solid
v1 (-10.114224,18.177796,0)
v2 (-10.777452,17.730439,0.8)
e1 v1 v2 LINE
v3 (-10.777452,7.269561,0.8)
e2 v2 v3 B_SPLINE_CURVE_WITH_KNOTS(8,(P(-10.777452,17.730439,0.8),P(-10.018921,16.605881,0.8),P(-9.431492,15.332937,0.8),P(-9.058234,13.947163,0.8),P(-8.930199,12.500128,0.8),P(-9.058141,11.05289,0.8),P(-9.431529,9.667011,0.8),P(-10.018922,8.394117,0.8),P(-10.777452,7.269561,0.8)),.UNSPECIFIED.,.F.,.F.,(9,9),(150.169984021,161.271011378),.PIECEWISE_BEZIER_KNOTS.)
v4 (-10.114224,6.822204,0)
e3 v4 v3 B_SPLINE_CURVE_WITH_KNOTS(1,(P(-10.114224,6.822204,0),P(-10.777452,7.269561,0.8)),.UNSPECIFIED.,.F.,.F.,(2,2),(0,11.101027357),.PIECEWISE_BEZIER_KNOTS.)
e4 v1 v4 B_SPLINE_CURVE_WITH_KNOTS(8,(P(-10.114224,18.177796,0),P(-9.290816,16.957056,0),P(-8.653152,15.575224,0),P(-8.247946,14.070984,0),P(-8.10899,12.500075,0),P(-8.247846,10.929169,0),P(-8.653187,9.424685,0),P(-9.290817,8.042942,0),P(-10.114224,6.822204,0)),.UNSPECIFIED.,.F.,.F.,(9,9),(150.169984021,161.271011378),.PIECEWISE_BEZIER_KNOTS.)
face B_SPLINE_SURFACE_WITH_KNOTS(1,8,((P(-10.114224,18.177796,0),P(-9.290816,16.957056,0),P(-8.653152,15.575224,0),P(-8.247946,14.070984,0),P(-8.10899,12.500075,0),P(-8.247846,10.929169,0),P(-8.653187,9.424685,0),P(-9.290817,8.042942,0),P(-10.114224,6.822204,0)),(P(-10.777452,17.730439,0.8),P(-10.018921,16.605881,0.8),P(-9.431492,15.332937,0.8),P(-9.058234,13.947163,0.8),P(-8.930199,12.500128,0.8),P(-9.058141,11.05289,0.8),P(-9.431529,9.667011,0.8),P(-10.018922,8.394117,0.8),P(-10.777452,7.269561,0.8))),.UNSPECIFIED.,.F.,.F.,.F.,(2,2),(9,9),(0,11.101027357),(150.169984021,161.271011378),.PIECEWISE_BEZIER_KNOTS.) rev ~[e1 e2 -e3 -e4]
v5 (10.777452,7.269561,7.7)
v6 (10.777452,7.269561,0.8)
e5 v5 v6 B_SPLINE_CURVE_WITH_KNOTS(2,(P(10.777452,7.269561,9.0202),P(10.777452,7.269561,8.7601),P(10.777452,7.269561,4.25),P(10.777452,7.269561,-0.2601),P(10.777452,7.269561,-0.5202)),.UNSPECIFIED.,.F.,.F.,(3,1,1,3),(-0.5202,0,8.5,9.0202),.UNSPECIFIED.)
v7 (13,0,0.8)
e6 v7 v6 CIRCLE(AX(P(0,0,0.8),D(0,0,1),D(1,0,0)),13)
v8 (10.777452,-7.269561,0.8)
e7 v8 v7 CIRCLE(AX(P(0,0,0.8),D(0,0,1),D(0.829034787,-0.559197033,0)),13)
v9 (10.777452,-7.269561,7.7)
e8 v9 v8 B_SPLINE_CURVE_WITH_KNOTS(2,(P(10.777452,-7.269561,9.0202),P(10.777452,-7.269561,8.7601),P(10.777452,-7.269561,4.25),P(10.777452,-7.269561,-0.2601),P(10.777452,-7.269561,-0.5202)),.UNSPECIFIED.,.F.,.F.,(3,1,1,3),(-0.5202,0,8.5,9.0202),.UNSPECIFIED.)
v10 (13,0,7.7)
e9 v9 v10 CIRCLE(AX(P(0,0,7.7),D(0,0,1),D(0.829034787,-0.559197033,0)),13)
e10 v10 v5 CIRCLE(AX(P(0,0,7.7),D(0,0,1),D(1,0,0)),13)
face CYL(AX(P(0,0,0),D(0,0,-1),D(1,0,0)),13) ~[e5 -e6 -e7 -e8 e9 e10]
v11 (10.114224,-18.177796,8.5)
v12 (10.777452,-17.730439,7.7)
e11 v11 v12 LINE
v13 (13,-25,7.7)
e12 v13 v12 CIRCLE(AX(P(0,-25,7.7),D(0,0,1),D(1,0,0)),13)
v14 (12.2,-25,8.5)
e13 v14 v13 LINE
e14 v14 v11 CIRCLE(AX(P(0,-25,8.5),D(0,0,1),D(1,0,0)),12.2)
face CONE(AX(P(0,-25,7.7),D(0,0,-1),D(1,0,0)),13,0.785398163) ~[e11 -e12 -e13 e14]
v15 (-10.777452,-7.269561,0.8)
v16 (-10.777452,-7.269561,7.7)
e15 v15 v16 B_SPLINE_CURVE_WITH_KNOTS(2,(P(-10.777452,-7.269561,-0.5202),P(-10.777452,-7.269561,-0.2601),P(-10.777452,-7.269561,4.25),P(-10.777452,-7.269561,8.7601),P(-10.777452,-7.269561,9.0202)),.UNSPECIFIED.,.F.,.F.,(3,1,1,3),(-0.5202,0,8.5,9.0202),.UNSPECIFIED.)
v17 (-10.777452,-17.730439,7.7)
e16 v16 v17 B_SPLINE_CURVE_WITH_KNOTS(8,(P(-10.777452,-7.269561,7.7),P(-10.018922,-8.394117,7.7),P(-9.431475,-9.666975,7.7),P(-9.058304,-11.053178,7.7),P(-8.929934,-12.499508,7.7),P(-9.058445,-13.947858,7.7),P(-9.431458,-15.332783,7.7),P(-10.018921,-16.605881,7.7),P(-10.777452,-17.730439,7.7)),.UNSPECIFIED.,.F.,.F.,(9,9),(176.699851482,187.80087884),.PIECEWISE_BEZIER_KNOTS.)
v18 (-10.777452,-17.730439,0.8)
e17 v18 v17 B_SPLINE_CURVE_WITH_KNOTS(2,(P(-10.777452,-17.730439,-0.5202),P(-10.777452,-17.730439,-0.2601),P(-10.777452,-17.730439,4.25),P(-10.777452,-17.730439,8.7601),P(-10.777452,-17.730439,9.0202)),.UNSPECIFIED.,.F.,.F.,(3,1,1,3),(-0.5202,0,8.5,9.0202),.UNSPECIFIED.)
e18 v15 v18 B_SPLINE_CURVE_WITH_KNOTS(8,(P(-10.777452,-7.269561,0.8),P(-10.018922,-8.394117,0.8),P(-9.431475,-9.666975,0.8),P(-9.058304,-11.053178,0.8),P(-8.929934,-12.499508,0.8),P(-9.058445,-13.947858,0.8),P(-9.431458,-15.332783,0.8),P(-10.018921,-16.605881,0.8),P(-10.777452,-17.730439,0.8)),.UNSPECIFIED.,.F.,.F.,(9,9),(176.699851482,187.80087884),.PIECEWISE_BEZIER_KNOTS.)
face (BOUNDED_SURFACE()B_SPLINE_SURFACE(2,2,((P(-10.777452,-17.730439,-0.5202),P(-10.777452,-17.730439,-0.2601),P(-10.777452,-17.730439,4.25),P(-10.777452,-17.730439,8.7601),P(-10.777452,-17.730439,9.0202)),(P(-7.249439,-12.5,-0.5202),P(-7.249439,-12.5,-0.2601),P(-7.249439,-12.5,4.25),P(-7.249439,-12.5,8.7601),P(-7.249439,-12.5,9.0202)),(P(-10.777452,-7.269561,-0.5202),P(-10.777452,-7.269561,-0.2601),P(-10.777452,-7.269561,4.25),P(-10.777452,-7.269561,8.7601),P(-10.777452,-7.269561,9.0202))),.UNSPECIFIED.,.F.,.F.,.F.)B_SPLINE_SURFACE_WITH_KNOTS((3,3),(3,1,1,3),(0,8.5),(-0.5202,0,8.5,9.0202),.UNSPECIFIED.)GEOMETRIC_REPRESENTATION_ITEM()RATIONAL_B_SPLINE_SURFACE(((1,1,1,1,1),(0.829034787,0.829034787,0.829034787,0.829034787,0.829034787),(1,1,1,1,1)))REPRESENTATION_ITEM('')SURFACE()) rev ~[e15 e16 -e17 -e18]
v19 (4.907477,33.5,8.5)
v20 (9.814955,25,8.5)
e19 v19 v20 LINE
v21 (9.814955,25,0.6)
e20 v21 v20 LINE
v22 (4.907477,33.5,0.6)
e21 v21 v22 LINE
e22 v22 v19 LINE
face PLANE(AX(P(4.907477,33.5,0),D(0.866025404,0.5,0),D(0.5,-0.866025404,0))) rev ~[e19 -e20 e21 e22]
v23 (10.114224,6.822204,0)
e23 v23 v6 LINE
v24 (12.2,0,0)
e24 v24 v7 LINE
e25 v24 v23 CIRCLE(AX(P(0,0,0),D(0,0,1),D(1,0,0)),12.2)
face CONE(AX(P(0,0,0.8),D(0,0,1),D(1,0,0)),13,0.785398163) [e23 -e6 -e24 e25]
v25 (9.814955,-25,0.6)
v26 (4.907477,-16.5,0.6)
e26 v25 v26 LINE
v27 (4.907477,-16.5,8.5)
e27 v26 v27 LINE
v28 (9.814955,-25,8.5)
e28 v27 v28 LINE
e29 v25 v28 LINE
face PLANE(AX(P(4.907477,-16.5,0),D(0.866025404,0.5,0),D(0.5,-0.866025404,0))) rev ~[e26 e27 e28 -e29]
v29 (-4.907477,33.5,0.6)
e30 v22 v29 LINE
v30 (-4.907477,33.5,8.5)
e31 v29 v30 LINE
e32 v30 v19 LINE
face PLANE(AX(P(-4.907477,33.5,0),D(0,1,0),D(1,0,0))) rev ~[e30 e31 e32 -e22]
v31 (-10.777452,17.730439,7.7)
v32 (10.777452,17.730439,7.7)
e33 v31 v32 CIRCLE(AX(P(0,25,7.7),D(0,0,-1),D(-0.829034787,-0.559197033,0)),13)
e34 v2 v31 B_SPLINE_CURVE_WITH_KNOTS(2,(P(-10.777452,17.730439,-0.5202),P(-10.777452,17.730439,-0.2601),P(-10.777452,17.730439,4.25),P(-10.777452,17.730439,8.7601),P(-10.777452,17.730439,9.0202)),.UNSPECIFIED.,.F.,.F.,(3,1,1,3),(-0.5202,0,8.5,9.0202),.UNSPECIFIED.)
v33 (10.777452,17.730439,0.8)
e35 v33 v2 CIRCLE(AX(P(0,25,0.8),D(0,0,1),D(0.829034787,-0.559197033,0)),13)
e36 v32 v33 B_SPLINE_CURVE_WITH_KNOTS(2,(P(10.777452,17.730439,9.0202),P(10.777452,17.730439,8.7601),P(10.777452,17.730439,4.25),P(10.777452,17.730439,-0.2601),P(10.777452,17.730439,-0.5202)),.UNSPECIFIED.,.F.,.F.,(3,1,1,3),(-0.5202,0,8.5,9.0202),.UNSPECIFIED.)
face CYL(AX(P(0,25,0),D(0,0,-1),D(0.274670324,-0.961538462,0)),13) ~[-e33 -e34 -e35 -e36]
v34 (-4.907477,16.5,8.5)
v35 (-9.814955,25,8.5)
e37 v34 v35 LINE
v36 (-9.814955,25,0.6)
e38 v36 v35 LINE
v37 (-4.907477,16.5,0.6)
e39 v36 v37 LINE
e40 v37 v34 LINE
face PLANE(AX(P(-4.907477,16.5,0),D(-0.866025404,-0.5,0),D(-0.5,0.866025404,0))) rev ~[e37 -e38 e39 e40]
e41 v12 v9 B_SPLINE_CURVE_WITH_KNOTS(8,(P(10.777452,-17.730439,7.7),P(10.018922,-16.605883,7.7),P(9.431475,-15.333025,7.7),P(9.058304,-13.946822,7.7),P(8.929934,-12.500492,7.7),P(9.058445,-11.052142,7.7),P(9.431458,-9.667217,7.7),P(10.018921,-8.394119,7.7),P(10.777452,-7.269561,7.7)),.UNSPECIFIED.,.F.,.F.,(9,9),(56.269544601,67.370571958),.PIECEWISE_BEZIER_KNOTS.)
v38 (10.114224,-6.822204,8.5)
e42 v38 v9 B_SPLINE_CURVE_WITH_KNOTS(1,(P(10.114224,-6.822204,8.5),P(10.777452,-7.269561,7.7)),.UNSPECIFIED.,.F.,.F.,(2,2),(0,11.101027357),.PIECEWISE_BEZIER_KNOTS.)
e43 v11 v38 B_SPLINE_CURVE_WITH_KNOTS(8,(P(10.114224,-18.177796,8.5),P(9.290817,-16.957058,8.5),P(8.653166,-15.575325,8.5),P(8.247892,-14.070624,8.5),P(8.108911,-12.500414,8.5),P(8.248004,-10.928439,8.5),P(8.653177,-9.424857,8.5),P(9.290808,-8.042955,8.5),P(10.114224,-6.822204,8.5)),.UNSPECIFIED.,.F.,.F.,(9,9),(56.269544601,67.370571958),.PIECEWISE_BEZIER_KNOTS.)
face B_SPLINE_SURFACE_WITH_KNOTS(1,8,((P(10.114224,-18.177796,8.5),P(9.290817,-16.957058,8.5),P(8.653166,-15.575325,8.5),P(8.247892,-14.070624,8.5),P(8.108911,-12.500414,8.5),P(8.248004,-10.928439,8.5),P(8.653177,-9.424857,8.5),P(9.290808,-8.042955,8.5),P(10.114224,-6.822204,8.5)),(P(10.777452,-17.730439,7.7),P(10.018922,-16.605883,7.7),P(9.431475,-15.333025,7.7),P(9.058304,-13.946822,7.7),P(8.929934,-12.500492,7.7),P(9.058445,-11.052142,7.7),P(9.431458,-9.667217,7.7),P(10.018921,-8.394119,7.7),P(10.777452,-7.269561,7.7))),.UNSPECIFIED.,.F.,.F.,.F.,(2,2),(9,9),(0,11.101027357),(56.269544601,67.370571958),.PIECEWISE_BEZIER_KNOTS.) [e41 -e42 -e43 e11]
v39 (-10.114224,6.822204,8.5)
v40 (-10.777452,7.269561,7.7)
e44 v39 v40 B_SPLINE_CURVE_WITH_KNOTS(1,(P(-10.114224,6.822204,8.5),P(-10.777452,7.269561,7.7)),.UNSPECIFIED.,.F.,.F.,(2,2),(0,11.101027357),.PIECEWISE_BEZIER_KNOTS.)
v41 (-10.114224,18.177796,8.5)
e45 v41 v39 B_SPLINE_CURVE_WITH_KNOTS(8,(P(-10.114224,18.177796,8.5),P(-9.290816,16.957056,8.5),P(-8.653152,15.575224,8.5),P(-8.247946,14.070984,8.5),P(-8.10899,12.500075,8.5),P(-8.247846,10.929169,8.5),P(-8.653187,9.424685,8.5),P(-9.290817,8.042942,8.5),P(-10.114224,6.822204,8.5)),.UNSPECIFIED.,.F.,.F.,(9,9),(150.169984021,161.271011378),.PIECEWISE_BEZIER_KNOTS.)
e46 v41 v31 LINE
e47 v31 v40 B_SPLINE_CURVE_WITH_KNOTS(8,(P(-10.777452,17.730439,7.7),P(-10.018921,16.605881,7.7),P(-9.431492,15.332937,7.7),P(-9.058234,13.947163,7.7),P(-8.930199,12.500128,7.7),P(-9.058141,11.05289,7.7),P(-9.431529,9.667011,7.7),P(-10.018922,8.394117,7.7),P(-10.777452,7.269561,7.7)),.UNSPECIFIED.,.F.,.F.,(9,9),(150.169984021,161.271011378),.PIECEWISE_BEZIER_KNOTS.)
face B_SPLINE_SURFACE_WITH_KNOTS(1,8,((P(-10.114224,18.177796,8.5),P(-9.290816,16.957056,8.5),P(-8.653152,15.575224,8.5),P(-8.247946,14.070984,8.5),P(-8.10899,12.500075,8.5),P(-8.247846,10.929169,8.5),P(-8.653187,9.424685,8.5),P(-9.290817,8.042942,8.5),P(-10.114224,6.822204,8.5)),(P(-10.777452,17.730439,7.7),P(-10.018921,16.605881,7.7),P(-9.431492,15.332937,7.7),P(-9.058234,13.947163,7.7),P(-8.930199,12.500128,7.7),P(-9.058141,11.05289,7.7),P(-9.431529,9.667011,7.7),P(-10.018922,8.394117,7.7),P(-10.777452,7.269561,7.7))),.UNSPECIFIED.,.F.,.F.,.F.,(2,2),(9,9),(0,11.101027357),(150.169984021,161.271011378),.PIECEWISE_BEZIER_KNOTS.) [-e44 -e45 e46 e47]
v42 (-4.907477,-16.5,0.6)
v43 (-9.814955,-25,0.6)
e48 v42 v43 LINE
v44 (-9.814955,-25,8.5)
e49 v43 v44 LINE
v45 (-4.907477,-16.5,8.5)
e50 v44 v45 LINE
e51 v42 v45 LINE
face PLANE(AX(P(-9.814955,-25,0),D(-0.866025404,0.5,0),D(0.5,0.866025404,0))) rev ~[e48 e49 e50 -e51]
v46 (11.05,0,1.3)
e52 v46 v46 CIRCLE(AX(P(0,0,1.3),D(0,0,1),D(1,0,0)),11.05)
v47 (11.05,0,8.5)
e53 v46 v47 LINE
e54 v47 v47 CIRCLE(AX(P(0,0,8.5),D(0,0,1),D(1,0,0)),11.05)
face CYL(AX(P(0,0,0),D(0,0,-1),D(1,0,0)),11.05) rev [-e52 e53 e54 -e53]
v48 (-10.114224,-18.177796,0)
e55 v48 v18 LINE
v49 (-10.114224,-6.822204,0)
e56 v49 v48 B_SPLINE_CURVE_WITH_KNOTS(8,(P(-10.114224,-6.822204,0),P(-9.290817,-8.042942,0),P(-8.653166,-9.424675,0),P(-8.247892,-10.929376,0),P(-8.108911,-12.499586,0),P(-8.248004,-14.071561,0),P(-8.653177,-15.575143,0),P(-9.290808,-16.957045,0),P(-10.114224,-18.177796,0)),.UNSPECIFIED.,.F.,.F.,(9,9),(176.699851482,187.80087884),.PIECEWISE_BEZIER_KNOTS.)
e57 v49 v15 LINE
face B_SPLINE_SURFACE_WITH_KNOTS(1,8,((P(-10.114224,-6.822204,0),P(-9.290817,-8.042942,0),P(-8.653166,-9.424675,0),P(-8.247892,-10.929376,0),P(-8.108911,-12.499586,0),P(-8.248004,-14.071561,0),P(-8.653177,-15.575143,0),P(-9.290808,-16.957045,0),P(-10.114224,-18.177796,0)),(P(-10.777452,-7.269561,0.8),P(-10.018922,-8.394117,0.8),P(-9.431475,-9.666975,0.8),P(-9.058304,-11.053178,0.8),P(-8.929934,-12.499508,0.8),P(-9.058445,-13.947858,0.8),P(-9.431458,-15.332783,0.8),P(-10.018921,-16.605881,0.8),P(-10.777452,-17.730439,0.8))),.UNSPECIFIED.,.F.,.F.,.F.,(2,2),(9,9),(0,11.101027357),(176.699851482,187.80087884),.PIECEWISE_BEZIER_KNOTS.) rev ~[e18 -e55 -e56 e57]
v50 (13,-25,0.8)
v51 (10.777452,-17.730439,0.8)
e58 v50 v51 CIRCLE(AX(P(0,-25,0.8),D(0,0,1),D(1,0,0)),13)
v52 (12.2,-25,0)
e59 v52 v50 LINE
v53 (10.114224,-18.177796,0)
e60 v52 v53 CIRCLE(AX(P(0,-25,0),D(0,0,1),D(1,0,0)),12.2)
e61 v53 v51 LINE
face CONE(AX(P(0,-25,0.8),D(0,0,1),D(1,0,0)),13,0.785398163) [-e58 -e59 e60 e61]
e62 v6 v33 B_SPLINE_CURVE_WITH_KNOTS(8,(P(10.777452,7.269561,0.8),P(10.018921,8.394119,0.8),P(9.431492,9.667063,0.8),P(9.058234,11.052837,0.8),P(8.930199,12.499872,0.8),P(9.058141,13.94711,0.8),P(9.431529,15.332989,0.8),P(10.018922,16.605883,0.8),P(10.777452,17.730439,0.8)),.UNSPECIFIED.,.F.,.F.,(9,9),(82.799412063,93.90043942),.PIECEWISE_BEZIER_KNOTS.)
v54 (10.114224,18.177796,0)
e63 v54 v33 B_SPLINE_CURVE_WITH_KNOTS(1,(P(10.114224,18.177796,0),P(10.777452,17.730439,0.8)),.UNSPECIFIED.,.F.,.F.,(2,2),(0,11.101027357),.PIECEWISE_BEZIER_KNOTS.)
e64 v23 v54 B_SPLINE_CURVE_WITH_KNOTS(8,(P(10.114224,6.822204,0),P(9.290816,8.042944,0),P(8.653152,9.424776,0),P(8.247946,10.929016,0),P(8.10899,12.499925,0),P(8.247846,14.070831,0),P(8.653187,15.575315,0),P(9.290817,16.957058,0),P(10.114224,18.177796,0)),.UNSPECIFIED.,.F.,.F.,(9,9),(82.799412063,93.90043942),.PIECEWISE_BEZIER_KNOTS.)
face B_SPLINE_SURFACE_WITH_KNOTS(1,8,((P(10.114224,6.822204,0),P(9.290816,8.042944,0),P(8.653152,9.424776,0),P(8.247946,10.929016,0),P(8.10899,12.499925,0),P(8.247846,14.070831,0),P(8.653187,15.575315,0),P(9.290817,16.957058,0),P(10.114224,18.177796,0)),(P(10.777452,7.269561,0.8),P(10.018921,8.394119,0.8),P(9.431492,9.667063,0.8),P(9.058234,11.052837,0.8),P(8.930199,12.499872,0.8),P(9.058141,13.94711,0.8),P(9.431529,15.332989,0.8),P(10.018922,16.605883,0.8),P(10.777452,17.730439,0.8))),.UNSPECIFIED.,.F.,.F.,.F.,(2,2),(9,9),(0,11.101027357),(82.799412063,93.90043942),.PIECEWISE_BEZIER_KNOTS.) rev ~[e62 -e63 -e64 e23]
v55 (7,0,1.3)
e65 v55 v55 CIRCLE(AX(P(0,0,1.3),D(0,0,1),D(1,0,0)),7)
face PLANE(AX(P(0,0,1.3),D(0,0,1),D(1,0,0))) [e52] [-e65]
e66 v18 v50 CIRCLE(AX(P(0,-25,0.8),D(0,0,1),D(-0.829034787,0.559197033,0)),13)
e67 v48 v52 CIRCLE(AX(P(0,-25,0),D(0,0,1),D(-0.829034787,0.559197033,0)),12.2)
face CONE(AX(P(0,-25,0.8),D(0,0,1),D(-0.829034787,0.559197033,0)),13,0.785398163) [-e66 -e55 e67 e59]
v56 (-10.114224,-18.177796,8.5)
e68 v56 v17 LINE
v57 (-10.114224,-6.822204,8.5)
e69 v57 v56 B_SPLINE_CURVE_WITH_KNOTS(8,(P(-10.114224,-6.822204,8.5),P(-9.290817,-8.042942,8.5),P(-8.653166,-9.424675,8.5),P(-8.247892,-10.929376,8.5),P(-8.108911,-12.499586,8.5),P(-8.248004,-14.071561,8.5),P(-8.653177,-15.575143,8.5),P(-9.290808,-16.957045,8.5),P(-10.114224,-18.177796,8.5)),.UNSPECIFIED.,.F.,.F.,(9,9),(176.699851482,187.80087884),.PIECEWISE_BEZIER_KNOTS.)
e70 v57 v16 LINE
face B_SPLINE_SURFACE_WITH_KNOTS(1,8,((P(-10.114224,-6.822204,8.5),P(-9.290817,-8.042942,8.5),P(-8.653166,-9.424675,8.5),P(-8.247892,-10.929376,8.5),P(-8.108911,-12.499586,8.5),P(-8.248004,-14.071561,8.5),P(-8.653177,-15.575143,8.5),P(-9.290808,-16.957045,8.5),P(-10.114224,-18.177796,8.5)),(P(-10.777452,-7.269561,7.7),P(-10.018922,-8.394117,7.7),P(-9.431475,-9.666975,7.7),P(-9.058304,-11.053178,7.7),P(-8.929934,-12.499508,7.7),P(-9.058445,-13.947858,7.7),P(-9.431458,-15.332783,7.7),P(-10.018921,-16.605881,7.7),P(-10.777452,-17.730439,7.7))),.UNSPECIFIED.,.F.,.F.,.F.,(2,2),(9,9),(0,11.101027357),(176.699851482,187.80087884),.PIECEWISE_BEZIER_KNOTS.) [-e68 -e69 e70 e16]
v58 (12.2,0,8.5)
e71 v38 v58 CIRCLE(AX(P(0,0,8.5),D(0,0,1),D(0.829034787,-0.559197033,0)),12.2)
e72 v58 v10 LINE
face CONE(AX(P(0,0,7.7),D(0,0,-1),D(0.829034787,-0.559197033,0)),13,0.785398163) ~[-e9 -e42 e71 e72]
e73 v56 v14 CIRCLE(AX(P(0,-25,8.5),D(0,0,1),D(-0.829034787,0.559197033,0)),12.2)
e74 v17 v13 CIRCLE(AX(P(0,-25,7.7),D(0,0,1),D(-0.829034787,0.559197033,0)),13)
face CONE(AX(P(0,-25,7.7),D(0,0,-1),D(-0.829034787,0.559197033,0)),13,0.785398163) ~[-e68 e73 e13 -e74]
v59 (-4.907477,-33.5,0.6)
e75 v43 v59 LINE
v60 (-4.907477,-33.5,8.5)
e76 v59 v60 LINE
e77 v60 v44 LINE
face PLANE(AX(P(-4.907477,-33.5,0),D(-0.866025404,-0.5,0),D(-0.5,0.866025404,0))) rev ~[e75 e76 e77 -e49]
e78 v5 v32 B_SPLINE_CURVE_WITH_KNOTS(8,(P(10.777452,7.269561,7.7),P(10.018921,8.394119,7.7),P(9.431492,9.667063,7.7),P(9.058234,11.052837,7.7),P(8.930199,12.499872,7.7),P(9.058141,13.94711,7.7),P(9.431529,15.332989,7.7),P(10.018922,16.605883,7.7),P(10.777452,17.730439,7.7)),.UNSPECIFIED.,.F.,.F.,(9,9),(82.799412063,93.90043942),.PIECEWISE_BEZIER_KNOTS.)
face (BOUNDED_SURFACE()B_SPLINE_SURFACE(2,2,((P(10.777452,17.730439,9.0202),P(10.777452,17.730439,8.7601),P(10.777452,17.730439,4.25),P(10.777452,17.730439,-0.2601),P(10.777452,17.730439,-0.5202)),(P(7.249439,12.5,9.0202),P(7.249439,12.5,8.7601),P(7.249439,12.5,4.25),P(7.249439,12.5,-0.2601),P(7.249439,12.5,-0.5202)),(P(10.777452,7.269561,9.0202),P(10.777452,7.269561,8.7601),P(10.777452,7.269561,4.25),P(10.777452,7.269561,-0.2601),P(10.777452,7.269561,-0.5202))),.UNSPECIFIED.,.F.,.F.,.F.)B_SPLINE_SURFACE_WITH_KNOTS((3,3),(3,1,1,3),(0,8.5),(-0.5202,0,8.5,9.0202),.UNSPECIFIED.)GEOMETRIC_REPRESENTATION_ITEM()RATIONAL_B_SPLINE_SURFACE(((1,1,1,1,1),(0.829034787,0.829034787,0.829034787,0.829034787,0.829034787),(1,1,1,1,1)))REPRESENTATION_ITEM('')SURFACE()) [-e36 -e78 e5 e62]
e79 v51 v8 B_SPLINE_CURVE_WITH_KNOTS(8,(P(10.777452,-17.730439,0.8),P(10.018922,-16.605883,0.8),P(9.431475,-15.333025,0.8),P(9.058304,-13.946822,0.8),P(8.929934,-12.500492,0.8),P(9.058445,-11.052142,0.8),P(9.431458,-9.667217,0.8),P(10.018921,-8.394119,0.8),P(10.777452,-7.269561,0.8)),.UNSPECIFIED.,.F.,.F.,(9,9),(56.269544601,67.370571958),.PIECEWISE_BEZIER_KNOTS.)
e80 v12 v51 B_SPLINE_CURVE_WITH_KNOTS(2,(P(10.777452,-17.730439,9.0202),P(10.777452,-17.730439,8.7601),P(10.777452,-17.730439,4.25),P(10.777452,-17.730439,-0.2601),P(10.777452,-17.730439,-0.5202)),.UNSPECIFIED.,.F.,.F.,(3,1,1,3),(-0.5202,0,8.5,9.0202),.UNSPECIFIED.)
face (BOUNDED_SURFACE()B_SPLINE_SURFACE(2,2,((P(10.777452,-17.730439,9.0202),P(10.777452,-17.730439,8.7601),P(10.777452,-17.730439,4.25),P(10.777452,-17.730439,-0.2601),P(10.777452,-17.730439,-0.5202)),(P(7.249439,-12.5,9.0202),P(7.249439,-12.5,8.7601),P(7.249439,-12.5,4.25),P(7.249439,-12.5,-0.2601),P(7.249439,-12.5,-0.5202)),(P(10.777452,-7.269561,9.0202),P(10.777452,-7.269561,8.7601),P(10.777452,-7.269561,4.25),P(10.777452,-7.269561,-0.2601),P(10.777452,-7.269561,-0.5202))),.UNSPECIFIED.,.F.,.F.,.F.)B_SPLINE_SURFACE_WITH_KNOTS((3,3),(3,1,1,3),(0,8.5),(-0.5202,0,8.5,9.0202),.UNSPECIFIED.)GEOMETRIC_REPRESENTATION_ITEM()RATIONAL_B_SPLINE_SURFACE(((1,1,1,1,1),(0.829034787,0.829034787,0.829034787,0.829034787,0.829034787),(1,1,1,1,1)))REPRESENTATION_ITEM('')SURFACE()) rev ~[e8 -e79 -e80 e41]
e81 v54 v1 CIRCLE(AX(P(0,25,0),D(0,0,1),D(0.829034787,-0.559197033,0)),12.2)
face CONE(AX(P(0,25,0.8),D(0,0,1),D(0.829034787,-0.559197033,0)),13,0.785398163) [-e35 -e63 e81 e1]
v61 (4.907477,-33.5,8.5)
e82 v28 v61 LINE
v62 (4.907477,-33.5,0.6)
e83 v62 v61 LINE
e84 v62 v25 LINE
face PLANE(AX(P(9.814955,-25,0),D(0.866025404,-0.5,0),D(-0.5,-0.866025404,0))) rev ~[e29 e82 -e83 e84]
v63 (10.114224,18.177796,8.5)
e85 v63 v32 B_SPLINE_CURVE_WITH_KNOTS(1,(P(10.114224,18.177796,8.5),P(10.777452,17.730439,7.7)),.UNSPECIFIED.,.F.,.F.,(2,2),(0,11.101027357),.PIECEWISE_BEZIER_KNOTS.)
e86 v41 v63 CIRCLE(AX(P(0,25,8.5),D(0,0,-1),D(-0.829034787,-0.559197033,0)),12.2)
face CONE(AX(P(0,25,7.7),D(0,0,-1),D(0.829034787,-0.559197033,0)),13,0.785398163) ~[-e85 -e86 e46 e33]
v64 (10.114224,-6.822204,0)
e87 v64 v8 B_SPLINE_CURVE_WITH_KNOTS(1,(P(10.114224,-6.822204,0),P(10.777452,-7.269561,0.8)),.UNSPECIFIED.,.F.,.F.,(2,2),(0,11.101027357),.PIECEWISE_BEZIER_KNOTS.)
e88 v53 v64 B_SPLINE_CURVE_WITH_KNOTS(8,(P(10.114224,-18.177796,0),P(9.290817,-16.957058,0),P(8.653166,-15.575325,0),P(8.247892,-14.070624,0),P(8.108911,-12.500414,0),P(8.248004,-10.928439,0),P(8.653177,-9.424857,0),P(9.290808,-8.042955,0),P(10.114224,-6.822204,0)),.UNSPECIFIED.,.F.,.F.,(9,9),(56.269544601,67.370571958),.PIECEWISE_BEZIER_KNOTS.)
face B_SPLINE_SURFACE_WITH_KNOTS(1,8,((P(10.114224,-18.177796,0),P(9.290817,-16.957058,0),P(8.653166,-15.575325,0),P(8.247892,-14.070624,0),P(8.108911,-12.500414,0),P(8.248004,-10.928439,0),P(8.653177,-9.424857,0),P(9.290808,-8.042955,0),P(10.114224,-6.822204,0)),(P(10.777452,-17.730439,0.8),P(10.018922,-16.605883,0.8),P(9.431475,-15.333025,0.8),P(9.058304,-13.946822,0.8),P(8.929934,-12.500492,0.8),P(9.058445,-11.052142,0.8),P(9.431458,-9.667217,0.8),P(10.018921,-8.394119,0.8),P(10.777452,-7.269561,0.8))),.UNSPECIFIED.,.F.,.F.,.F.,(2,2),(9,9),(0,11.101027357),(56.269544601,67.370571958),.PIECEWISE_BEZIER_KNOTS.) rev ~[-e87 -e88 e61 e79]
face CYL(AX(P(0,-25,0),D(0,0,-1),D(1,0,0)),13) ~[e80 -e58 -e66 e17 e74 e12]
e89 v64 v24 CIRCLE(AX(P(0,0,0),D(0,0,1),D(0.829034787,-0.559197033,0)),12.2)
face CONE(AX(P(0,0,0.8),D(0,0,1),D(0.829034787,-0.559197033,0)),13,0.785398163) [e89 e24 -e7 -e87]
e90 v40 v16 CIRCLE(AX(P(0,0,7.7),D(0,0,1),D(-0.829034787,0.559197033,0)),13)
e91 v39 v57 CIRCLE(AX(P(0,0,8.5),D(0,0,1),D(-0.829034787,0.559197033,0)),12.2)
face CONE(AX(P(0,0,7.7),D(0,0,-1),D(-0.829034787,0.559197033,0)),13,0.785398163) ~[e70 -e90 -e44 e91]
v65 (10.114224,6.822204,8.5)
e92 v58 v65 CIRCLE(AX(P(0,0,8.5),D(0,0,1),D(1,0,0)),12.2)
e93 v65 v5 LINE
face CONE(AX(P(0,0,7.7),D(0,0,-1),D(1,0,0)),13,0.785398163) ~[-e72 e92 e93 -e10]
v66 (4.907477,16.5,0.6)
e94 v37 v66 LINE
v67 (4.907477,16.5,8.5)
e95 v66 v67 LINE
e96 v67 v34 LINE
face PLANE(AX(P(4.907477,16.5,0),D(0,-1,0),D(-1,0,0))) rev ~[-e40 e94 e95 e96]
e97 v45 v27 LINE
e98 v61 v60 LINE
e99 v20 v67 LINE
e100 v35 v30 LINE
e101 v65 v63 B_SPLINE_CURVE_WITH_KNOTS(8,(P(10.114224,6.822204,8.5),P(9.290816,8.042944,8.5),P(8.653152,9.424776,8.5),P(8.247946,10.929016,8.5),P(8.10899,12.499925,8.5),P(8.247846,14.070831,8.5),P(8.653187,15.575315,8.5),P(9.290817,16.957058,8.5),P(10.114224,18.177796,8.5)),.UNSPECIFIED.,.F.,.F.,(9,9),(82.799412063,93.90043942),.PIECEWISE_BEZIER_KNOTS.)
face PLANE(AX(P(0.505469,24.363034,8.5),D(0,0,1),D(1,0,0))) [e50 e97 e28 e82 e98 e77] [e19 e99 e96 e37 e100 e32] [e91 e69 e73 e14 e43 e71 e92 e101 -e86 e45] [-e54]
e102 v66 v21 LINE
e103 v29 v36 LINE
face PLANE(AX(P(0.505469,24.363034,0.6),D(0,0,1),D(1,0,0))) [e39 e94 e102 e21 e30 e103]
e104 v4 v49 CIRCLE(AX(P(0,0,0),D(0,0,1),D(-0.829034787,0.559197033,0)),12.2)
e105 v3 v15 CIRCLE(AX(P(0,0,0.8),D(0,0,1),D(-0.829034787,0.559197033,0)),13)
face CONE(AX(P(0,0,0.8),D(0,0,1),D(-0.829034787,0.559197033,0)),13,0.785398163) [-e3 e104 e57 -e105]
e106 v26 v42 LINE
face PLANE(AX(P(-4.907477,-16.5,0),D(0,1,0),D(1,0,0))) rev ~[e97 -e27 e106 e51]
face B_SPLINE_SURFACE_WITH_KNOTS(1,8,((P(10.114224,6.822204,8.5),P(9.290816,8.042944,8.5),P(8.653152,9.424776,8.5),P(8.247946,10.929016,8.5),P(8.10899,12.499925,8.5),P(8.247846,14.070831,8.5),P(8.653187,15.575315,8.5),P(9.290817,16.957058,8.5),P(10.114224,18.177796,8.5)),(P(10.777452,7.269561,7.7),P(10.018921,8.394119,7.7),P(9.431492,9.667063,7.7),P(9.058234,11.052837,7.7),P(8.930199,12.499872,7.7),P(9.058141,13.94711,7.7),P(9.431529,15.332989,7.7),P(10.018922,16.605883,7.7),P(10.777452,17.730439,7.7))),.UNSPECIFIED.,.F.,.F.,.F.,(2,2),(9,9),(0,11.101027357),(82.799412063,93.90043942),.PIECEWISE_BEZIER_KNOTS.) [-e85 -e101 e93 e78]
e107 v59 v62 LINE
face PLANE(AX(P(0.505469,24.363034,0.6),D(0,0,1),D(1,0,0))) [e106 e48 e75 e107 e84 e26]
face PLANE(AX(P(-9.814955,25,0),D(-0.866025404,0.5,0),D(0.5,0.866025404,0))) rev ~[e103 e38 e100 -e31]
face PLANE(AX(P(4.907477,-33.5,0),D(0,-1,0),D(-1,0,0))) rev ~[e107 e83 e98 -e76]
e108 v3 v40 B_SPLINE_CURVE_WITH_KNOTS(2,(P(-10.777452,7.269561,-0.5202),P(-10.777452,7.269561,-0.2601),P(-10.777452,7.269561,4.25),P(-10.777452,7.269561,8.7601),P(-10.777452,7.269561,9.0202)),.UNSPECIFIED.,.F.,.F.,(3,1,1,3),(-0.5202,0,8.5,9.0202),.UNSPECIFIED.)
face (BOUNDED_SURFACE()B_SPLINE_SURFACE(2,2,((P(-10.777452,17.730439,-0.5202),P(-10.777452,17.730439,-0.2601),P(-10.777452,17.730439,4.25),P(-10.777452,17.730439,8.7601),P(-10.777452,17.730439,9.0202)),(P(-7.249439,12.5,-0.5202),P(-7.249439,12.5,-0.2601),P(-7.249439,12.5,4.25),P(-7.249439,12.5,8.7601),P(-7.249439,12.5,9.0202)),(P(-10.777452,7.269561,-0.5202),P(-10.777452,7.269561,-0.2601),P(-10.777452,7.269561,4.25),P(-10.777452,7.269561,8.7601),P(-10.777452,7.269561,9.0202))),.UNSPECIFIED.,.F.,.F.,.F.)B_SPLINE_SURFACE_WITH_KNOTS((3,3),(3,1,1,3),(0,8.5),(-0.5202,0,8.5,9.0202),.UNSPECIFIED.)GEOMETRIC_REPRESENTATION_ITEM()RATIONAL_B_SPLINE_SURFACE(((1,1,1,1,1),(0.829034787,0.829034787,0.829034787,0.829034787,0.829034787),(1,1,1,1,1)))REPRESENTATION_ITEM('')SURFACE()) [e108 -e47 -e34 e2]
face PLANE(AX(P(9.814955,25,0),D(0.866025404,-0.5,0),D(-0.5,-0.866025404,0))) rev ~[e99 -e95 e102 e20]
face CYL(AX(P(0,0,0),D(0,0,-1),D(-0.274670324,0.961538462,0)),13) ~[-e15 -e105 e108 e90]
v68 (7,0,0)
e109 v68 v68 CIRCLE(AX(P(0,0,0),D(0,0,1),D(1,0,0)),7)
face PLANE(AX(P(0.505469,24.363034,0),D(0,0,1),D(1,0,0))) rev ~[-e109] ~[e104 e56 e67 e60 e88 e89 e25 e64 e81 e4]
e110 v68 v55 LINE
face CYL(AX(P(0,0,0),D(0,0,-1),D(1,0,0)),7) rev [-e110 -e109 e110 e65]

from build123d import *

# Parameters (mm, degrees)
F0_R     = 11.05
F0_R_2   = 7
F1_DEPTH = 0.6
F2_DEPTH = 8.5
F3_R     = 9.3534805389
F4_SIZE  = 0.8
F5_DEPTH = 1.3


with BuildPart() as f1:
    # F0 (on Top) → F1 (new body)
    with BuildSketch(Plane.XY):
        with BuildLine():
            ThreePointArc((-3.5707142143, 12.5), (0, 13), (3.5707142143, 12.5))
            ThreePointArc((3.5707142143, 12.5), (10.3783256064, 17.1711841504), (13, 25))
            ThreePointArc((13, 25), (-7.8288158496, 35.3783256064), (-3.5707142143, 12.5))
        make_face()
        Polygon((4.9074772881, 33.5), (9.8149545762, 25), (4.9074772881, 16.5), (-4.9074772881, 16.5), (-9.8149545762, 25), (-4.9074772881, 33.5), align=None, mode=Mode.SUBTRACT)
        with BuildLine():
            ThreePointArc((13, -25), (10.3783256064, -17.1711841504), (3.5707142143, -12.5))
            ThreePointArc((3.5707142143, -12.5), (0, -13), (-3.5707142143, -12.5))
            ThreePointArc((-3.5707142143, -12.5), (-7.8288158496, -35.3783256064), (13, -25))
        make_face()
        Polygon((-9.8149545762, -25), (-4.9074772881, -16.5), (4.9074772881, -16.5), (9.8149545762, -25), (4.9074772881, -33.5), (-4.9074772881, -33.5), align=None, mode=Mode.SUBTRACT)
        with BuildLine():
            ThreePointArc((3.5707142143, -12.5), (10.3783256064, -7.8288158496), (13, 0))
            ThreePointArc((13, 0), (10.3783256064, 7.8288158496), (3.5707142143, 12.5))
            ThreePointArc((3.5707142143, 12.5), (0, 12), (-3.5707142143, 12.5))
            ThreePointArc((-3.5707142143, 12.5), (-13, 0), (-3.5707142143, -12.5))
            ThreePointArc((-3.5707142143, -12.5), (0, -12), (3.5707142143, -12.5))
        make_face()
        Circle(F0_R, mode=Mode.SUBTRACT)
        Circle(F0_R)
        Circle(F0_R_2, mode=Mode.SUBTRACT)
        Polygon((4.9074772881, 16.5), (9.8149545762, 25), (4.9074772881, 33.5), (-4.9074772881, 33.5), (-9.8149545762, 25), (-4.9074772881, 16.5), align=None)
        Polygon((4.9074772881, -16.5), (-4.9074772881, -16.5), (-9.8149545762, -25), (-4.9074772881, -33.5), (4.9074772881, -33.5), (9.8149545762, -25), align=None)
        with BuildLine():
            ThreePointArc((-3.5707142143, 12.5), (0, 12), (3.5707142143, 12.5))
            ThreePointArc((3.5707142143, 12.5), (0, 13), (-3.5707142143, 12.5))
        make_face()
        with BuildLine():
            ThreePointArc((-3.5707142143, -12.5), (0, -13), (3.5707142143, -12.5))
            ThreePointArc((3.5707142143, -12.5), (0, -12), (-3.5707142143, -12.5))
        make_face()
    extrude(amount=F1_DEPTH)

    # F0 (on Top) → F2 (join)
    with BuildSketch(Plane.XY):
        with BuildLine():
            ThreePointArc((-3.5707142143, 12.5), (0, 13), (3.5707142143, 12.5))
            ThreePointArc((3.5707142143, 12.5), (10.3783256064, 17.1711841504), (13, 25))
            ThreePointArc((13, 25), (-7.8288158496, 35.3783256064), (-3.5707142143, 12.5))
        make_face()
        Polygon((4.9074772881, 33.5), (9.8149545762, 25), (4.9074772881, 16.5), (-4.9074772881, 16.5), (-9.8149545762, 25), (-4.9074772881, 33.5), align=None, mode=Mode.SUBTRACT)
        with BuildLine():
            ThreePointArc((3.5707142143, -12.5), (10.3783256064, -7.8288158496), (13, 0))
            ThreePointArc((13, 0), (10.3783256064, 7.8288158496), (3.5707142143, 12.5))
            ThreePointArc((3.5707142143, 12.5), (0, 12), (-3.5707142143, 12.5))
            ThreePointArc((-3.5707142143, 12.5), (-13, 0), (-3.5707142143, -12.5))
            ThreePointArc((-3.5707142143, -12.5), (0, -12), (3.5707142143, -12.5))
        make_face()
        Circle(F0_R, mode=Mode.SUBTRACT)
        with BuildLine():
            ThreePointArc((-3.5707142143, 12.5), (0, 12), (3.5707142143, 12.5))
            ThreePointArc((3.5707142143, 12.5), (0, 13), (-3.5707142143, 12.5))
        make_face()
        with BuildLine():
            ThreePointArc((-3.5707142143, -12.5), (0, -13), (3.5707142143, -12.5))
            ThreePointArc((3.5707142143, -12.5), (0, -12), (-3.5707142143, -12.5))
        make_face()
        with BuildLine():
            ThreePointArc((13, -25), (10.3783256064, -17.1711841504), (3.5707142143, -12.5))
            ThreePointArc((3.5707142143, -12.5), (0, -13), (-3.5707142143, -12.5))
            ThreePointArc((-3.5707142143, -12.5), (-7.8288158496, -35.3783256064), (13, -25))
        make_face()
        Polygon((-9.8149545762, -25), (-4.9074772881, -16.5), (4.9074772881, -16.5), (9.8149545762, -25), (4.9074772881, -33.5), (-4.9074772881, -33.5), align=None, mode=Mode.SUBTRACT)
    extrude(amount=F2_DEPTH)

    # F3
    f3_edges = [f1.edges().sort_by_distance(p)[0] for p in [
        (3.570714, -12.5, 4.25),
        (3.570714, 12.5, 4.25),
        (-3.570714, 12.5, 4.25),
        (-3.570714, -12.5, 4.25),
    ]]
    fillet(f3_edges, radius=F3_R)

    # F4
    f4_edges = [f1.edges().sort_by_distance(p)[0] for p in [
        (0, -38, 8.5),
        (9.178332, -12.5, 8.5),
        (13, 0, 8.5),
        (9.178332, 12.5, 8.5),
        (0, 38, 8.5),
        (-9.178332, 12.5, 8.5),
        (-13, 0, 8.5),
        (-9.178332, -12.5, 8.5),
        (0, -38, 0),
        (-9.178332, -12.5, 0),
        (-13, 0, 0),
        (-9.178332, 12.5, 0),
        (0, 38, 0),
        (9.178332, 12.5, 0),
        (13, 0, 0),
        (9.178332, -12.5, 0),
    ]]
    chamfer(f4_edges, length=F4_SIZE)

    # F0 (on Top) → F5 (join)
    with BuildSketch(Plane.XY):
        Circle(F0_R)
        Circle(F0_R_2, mode=Mode.SUBTRACT)
    extrude(amount=F5_DEPTH)


solid = f1.part
